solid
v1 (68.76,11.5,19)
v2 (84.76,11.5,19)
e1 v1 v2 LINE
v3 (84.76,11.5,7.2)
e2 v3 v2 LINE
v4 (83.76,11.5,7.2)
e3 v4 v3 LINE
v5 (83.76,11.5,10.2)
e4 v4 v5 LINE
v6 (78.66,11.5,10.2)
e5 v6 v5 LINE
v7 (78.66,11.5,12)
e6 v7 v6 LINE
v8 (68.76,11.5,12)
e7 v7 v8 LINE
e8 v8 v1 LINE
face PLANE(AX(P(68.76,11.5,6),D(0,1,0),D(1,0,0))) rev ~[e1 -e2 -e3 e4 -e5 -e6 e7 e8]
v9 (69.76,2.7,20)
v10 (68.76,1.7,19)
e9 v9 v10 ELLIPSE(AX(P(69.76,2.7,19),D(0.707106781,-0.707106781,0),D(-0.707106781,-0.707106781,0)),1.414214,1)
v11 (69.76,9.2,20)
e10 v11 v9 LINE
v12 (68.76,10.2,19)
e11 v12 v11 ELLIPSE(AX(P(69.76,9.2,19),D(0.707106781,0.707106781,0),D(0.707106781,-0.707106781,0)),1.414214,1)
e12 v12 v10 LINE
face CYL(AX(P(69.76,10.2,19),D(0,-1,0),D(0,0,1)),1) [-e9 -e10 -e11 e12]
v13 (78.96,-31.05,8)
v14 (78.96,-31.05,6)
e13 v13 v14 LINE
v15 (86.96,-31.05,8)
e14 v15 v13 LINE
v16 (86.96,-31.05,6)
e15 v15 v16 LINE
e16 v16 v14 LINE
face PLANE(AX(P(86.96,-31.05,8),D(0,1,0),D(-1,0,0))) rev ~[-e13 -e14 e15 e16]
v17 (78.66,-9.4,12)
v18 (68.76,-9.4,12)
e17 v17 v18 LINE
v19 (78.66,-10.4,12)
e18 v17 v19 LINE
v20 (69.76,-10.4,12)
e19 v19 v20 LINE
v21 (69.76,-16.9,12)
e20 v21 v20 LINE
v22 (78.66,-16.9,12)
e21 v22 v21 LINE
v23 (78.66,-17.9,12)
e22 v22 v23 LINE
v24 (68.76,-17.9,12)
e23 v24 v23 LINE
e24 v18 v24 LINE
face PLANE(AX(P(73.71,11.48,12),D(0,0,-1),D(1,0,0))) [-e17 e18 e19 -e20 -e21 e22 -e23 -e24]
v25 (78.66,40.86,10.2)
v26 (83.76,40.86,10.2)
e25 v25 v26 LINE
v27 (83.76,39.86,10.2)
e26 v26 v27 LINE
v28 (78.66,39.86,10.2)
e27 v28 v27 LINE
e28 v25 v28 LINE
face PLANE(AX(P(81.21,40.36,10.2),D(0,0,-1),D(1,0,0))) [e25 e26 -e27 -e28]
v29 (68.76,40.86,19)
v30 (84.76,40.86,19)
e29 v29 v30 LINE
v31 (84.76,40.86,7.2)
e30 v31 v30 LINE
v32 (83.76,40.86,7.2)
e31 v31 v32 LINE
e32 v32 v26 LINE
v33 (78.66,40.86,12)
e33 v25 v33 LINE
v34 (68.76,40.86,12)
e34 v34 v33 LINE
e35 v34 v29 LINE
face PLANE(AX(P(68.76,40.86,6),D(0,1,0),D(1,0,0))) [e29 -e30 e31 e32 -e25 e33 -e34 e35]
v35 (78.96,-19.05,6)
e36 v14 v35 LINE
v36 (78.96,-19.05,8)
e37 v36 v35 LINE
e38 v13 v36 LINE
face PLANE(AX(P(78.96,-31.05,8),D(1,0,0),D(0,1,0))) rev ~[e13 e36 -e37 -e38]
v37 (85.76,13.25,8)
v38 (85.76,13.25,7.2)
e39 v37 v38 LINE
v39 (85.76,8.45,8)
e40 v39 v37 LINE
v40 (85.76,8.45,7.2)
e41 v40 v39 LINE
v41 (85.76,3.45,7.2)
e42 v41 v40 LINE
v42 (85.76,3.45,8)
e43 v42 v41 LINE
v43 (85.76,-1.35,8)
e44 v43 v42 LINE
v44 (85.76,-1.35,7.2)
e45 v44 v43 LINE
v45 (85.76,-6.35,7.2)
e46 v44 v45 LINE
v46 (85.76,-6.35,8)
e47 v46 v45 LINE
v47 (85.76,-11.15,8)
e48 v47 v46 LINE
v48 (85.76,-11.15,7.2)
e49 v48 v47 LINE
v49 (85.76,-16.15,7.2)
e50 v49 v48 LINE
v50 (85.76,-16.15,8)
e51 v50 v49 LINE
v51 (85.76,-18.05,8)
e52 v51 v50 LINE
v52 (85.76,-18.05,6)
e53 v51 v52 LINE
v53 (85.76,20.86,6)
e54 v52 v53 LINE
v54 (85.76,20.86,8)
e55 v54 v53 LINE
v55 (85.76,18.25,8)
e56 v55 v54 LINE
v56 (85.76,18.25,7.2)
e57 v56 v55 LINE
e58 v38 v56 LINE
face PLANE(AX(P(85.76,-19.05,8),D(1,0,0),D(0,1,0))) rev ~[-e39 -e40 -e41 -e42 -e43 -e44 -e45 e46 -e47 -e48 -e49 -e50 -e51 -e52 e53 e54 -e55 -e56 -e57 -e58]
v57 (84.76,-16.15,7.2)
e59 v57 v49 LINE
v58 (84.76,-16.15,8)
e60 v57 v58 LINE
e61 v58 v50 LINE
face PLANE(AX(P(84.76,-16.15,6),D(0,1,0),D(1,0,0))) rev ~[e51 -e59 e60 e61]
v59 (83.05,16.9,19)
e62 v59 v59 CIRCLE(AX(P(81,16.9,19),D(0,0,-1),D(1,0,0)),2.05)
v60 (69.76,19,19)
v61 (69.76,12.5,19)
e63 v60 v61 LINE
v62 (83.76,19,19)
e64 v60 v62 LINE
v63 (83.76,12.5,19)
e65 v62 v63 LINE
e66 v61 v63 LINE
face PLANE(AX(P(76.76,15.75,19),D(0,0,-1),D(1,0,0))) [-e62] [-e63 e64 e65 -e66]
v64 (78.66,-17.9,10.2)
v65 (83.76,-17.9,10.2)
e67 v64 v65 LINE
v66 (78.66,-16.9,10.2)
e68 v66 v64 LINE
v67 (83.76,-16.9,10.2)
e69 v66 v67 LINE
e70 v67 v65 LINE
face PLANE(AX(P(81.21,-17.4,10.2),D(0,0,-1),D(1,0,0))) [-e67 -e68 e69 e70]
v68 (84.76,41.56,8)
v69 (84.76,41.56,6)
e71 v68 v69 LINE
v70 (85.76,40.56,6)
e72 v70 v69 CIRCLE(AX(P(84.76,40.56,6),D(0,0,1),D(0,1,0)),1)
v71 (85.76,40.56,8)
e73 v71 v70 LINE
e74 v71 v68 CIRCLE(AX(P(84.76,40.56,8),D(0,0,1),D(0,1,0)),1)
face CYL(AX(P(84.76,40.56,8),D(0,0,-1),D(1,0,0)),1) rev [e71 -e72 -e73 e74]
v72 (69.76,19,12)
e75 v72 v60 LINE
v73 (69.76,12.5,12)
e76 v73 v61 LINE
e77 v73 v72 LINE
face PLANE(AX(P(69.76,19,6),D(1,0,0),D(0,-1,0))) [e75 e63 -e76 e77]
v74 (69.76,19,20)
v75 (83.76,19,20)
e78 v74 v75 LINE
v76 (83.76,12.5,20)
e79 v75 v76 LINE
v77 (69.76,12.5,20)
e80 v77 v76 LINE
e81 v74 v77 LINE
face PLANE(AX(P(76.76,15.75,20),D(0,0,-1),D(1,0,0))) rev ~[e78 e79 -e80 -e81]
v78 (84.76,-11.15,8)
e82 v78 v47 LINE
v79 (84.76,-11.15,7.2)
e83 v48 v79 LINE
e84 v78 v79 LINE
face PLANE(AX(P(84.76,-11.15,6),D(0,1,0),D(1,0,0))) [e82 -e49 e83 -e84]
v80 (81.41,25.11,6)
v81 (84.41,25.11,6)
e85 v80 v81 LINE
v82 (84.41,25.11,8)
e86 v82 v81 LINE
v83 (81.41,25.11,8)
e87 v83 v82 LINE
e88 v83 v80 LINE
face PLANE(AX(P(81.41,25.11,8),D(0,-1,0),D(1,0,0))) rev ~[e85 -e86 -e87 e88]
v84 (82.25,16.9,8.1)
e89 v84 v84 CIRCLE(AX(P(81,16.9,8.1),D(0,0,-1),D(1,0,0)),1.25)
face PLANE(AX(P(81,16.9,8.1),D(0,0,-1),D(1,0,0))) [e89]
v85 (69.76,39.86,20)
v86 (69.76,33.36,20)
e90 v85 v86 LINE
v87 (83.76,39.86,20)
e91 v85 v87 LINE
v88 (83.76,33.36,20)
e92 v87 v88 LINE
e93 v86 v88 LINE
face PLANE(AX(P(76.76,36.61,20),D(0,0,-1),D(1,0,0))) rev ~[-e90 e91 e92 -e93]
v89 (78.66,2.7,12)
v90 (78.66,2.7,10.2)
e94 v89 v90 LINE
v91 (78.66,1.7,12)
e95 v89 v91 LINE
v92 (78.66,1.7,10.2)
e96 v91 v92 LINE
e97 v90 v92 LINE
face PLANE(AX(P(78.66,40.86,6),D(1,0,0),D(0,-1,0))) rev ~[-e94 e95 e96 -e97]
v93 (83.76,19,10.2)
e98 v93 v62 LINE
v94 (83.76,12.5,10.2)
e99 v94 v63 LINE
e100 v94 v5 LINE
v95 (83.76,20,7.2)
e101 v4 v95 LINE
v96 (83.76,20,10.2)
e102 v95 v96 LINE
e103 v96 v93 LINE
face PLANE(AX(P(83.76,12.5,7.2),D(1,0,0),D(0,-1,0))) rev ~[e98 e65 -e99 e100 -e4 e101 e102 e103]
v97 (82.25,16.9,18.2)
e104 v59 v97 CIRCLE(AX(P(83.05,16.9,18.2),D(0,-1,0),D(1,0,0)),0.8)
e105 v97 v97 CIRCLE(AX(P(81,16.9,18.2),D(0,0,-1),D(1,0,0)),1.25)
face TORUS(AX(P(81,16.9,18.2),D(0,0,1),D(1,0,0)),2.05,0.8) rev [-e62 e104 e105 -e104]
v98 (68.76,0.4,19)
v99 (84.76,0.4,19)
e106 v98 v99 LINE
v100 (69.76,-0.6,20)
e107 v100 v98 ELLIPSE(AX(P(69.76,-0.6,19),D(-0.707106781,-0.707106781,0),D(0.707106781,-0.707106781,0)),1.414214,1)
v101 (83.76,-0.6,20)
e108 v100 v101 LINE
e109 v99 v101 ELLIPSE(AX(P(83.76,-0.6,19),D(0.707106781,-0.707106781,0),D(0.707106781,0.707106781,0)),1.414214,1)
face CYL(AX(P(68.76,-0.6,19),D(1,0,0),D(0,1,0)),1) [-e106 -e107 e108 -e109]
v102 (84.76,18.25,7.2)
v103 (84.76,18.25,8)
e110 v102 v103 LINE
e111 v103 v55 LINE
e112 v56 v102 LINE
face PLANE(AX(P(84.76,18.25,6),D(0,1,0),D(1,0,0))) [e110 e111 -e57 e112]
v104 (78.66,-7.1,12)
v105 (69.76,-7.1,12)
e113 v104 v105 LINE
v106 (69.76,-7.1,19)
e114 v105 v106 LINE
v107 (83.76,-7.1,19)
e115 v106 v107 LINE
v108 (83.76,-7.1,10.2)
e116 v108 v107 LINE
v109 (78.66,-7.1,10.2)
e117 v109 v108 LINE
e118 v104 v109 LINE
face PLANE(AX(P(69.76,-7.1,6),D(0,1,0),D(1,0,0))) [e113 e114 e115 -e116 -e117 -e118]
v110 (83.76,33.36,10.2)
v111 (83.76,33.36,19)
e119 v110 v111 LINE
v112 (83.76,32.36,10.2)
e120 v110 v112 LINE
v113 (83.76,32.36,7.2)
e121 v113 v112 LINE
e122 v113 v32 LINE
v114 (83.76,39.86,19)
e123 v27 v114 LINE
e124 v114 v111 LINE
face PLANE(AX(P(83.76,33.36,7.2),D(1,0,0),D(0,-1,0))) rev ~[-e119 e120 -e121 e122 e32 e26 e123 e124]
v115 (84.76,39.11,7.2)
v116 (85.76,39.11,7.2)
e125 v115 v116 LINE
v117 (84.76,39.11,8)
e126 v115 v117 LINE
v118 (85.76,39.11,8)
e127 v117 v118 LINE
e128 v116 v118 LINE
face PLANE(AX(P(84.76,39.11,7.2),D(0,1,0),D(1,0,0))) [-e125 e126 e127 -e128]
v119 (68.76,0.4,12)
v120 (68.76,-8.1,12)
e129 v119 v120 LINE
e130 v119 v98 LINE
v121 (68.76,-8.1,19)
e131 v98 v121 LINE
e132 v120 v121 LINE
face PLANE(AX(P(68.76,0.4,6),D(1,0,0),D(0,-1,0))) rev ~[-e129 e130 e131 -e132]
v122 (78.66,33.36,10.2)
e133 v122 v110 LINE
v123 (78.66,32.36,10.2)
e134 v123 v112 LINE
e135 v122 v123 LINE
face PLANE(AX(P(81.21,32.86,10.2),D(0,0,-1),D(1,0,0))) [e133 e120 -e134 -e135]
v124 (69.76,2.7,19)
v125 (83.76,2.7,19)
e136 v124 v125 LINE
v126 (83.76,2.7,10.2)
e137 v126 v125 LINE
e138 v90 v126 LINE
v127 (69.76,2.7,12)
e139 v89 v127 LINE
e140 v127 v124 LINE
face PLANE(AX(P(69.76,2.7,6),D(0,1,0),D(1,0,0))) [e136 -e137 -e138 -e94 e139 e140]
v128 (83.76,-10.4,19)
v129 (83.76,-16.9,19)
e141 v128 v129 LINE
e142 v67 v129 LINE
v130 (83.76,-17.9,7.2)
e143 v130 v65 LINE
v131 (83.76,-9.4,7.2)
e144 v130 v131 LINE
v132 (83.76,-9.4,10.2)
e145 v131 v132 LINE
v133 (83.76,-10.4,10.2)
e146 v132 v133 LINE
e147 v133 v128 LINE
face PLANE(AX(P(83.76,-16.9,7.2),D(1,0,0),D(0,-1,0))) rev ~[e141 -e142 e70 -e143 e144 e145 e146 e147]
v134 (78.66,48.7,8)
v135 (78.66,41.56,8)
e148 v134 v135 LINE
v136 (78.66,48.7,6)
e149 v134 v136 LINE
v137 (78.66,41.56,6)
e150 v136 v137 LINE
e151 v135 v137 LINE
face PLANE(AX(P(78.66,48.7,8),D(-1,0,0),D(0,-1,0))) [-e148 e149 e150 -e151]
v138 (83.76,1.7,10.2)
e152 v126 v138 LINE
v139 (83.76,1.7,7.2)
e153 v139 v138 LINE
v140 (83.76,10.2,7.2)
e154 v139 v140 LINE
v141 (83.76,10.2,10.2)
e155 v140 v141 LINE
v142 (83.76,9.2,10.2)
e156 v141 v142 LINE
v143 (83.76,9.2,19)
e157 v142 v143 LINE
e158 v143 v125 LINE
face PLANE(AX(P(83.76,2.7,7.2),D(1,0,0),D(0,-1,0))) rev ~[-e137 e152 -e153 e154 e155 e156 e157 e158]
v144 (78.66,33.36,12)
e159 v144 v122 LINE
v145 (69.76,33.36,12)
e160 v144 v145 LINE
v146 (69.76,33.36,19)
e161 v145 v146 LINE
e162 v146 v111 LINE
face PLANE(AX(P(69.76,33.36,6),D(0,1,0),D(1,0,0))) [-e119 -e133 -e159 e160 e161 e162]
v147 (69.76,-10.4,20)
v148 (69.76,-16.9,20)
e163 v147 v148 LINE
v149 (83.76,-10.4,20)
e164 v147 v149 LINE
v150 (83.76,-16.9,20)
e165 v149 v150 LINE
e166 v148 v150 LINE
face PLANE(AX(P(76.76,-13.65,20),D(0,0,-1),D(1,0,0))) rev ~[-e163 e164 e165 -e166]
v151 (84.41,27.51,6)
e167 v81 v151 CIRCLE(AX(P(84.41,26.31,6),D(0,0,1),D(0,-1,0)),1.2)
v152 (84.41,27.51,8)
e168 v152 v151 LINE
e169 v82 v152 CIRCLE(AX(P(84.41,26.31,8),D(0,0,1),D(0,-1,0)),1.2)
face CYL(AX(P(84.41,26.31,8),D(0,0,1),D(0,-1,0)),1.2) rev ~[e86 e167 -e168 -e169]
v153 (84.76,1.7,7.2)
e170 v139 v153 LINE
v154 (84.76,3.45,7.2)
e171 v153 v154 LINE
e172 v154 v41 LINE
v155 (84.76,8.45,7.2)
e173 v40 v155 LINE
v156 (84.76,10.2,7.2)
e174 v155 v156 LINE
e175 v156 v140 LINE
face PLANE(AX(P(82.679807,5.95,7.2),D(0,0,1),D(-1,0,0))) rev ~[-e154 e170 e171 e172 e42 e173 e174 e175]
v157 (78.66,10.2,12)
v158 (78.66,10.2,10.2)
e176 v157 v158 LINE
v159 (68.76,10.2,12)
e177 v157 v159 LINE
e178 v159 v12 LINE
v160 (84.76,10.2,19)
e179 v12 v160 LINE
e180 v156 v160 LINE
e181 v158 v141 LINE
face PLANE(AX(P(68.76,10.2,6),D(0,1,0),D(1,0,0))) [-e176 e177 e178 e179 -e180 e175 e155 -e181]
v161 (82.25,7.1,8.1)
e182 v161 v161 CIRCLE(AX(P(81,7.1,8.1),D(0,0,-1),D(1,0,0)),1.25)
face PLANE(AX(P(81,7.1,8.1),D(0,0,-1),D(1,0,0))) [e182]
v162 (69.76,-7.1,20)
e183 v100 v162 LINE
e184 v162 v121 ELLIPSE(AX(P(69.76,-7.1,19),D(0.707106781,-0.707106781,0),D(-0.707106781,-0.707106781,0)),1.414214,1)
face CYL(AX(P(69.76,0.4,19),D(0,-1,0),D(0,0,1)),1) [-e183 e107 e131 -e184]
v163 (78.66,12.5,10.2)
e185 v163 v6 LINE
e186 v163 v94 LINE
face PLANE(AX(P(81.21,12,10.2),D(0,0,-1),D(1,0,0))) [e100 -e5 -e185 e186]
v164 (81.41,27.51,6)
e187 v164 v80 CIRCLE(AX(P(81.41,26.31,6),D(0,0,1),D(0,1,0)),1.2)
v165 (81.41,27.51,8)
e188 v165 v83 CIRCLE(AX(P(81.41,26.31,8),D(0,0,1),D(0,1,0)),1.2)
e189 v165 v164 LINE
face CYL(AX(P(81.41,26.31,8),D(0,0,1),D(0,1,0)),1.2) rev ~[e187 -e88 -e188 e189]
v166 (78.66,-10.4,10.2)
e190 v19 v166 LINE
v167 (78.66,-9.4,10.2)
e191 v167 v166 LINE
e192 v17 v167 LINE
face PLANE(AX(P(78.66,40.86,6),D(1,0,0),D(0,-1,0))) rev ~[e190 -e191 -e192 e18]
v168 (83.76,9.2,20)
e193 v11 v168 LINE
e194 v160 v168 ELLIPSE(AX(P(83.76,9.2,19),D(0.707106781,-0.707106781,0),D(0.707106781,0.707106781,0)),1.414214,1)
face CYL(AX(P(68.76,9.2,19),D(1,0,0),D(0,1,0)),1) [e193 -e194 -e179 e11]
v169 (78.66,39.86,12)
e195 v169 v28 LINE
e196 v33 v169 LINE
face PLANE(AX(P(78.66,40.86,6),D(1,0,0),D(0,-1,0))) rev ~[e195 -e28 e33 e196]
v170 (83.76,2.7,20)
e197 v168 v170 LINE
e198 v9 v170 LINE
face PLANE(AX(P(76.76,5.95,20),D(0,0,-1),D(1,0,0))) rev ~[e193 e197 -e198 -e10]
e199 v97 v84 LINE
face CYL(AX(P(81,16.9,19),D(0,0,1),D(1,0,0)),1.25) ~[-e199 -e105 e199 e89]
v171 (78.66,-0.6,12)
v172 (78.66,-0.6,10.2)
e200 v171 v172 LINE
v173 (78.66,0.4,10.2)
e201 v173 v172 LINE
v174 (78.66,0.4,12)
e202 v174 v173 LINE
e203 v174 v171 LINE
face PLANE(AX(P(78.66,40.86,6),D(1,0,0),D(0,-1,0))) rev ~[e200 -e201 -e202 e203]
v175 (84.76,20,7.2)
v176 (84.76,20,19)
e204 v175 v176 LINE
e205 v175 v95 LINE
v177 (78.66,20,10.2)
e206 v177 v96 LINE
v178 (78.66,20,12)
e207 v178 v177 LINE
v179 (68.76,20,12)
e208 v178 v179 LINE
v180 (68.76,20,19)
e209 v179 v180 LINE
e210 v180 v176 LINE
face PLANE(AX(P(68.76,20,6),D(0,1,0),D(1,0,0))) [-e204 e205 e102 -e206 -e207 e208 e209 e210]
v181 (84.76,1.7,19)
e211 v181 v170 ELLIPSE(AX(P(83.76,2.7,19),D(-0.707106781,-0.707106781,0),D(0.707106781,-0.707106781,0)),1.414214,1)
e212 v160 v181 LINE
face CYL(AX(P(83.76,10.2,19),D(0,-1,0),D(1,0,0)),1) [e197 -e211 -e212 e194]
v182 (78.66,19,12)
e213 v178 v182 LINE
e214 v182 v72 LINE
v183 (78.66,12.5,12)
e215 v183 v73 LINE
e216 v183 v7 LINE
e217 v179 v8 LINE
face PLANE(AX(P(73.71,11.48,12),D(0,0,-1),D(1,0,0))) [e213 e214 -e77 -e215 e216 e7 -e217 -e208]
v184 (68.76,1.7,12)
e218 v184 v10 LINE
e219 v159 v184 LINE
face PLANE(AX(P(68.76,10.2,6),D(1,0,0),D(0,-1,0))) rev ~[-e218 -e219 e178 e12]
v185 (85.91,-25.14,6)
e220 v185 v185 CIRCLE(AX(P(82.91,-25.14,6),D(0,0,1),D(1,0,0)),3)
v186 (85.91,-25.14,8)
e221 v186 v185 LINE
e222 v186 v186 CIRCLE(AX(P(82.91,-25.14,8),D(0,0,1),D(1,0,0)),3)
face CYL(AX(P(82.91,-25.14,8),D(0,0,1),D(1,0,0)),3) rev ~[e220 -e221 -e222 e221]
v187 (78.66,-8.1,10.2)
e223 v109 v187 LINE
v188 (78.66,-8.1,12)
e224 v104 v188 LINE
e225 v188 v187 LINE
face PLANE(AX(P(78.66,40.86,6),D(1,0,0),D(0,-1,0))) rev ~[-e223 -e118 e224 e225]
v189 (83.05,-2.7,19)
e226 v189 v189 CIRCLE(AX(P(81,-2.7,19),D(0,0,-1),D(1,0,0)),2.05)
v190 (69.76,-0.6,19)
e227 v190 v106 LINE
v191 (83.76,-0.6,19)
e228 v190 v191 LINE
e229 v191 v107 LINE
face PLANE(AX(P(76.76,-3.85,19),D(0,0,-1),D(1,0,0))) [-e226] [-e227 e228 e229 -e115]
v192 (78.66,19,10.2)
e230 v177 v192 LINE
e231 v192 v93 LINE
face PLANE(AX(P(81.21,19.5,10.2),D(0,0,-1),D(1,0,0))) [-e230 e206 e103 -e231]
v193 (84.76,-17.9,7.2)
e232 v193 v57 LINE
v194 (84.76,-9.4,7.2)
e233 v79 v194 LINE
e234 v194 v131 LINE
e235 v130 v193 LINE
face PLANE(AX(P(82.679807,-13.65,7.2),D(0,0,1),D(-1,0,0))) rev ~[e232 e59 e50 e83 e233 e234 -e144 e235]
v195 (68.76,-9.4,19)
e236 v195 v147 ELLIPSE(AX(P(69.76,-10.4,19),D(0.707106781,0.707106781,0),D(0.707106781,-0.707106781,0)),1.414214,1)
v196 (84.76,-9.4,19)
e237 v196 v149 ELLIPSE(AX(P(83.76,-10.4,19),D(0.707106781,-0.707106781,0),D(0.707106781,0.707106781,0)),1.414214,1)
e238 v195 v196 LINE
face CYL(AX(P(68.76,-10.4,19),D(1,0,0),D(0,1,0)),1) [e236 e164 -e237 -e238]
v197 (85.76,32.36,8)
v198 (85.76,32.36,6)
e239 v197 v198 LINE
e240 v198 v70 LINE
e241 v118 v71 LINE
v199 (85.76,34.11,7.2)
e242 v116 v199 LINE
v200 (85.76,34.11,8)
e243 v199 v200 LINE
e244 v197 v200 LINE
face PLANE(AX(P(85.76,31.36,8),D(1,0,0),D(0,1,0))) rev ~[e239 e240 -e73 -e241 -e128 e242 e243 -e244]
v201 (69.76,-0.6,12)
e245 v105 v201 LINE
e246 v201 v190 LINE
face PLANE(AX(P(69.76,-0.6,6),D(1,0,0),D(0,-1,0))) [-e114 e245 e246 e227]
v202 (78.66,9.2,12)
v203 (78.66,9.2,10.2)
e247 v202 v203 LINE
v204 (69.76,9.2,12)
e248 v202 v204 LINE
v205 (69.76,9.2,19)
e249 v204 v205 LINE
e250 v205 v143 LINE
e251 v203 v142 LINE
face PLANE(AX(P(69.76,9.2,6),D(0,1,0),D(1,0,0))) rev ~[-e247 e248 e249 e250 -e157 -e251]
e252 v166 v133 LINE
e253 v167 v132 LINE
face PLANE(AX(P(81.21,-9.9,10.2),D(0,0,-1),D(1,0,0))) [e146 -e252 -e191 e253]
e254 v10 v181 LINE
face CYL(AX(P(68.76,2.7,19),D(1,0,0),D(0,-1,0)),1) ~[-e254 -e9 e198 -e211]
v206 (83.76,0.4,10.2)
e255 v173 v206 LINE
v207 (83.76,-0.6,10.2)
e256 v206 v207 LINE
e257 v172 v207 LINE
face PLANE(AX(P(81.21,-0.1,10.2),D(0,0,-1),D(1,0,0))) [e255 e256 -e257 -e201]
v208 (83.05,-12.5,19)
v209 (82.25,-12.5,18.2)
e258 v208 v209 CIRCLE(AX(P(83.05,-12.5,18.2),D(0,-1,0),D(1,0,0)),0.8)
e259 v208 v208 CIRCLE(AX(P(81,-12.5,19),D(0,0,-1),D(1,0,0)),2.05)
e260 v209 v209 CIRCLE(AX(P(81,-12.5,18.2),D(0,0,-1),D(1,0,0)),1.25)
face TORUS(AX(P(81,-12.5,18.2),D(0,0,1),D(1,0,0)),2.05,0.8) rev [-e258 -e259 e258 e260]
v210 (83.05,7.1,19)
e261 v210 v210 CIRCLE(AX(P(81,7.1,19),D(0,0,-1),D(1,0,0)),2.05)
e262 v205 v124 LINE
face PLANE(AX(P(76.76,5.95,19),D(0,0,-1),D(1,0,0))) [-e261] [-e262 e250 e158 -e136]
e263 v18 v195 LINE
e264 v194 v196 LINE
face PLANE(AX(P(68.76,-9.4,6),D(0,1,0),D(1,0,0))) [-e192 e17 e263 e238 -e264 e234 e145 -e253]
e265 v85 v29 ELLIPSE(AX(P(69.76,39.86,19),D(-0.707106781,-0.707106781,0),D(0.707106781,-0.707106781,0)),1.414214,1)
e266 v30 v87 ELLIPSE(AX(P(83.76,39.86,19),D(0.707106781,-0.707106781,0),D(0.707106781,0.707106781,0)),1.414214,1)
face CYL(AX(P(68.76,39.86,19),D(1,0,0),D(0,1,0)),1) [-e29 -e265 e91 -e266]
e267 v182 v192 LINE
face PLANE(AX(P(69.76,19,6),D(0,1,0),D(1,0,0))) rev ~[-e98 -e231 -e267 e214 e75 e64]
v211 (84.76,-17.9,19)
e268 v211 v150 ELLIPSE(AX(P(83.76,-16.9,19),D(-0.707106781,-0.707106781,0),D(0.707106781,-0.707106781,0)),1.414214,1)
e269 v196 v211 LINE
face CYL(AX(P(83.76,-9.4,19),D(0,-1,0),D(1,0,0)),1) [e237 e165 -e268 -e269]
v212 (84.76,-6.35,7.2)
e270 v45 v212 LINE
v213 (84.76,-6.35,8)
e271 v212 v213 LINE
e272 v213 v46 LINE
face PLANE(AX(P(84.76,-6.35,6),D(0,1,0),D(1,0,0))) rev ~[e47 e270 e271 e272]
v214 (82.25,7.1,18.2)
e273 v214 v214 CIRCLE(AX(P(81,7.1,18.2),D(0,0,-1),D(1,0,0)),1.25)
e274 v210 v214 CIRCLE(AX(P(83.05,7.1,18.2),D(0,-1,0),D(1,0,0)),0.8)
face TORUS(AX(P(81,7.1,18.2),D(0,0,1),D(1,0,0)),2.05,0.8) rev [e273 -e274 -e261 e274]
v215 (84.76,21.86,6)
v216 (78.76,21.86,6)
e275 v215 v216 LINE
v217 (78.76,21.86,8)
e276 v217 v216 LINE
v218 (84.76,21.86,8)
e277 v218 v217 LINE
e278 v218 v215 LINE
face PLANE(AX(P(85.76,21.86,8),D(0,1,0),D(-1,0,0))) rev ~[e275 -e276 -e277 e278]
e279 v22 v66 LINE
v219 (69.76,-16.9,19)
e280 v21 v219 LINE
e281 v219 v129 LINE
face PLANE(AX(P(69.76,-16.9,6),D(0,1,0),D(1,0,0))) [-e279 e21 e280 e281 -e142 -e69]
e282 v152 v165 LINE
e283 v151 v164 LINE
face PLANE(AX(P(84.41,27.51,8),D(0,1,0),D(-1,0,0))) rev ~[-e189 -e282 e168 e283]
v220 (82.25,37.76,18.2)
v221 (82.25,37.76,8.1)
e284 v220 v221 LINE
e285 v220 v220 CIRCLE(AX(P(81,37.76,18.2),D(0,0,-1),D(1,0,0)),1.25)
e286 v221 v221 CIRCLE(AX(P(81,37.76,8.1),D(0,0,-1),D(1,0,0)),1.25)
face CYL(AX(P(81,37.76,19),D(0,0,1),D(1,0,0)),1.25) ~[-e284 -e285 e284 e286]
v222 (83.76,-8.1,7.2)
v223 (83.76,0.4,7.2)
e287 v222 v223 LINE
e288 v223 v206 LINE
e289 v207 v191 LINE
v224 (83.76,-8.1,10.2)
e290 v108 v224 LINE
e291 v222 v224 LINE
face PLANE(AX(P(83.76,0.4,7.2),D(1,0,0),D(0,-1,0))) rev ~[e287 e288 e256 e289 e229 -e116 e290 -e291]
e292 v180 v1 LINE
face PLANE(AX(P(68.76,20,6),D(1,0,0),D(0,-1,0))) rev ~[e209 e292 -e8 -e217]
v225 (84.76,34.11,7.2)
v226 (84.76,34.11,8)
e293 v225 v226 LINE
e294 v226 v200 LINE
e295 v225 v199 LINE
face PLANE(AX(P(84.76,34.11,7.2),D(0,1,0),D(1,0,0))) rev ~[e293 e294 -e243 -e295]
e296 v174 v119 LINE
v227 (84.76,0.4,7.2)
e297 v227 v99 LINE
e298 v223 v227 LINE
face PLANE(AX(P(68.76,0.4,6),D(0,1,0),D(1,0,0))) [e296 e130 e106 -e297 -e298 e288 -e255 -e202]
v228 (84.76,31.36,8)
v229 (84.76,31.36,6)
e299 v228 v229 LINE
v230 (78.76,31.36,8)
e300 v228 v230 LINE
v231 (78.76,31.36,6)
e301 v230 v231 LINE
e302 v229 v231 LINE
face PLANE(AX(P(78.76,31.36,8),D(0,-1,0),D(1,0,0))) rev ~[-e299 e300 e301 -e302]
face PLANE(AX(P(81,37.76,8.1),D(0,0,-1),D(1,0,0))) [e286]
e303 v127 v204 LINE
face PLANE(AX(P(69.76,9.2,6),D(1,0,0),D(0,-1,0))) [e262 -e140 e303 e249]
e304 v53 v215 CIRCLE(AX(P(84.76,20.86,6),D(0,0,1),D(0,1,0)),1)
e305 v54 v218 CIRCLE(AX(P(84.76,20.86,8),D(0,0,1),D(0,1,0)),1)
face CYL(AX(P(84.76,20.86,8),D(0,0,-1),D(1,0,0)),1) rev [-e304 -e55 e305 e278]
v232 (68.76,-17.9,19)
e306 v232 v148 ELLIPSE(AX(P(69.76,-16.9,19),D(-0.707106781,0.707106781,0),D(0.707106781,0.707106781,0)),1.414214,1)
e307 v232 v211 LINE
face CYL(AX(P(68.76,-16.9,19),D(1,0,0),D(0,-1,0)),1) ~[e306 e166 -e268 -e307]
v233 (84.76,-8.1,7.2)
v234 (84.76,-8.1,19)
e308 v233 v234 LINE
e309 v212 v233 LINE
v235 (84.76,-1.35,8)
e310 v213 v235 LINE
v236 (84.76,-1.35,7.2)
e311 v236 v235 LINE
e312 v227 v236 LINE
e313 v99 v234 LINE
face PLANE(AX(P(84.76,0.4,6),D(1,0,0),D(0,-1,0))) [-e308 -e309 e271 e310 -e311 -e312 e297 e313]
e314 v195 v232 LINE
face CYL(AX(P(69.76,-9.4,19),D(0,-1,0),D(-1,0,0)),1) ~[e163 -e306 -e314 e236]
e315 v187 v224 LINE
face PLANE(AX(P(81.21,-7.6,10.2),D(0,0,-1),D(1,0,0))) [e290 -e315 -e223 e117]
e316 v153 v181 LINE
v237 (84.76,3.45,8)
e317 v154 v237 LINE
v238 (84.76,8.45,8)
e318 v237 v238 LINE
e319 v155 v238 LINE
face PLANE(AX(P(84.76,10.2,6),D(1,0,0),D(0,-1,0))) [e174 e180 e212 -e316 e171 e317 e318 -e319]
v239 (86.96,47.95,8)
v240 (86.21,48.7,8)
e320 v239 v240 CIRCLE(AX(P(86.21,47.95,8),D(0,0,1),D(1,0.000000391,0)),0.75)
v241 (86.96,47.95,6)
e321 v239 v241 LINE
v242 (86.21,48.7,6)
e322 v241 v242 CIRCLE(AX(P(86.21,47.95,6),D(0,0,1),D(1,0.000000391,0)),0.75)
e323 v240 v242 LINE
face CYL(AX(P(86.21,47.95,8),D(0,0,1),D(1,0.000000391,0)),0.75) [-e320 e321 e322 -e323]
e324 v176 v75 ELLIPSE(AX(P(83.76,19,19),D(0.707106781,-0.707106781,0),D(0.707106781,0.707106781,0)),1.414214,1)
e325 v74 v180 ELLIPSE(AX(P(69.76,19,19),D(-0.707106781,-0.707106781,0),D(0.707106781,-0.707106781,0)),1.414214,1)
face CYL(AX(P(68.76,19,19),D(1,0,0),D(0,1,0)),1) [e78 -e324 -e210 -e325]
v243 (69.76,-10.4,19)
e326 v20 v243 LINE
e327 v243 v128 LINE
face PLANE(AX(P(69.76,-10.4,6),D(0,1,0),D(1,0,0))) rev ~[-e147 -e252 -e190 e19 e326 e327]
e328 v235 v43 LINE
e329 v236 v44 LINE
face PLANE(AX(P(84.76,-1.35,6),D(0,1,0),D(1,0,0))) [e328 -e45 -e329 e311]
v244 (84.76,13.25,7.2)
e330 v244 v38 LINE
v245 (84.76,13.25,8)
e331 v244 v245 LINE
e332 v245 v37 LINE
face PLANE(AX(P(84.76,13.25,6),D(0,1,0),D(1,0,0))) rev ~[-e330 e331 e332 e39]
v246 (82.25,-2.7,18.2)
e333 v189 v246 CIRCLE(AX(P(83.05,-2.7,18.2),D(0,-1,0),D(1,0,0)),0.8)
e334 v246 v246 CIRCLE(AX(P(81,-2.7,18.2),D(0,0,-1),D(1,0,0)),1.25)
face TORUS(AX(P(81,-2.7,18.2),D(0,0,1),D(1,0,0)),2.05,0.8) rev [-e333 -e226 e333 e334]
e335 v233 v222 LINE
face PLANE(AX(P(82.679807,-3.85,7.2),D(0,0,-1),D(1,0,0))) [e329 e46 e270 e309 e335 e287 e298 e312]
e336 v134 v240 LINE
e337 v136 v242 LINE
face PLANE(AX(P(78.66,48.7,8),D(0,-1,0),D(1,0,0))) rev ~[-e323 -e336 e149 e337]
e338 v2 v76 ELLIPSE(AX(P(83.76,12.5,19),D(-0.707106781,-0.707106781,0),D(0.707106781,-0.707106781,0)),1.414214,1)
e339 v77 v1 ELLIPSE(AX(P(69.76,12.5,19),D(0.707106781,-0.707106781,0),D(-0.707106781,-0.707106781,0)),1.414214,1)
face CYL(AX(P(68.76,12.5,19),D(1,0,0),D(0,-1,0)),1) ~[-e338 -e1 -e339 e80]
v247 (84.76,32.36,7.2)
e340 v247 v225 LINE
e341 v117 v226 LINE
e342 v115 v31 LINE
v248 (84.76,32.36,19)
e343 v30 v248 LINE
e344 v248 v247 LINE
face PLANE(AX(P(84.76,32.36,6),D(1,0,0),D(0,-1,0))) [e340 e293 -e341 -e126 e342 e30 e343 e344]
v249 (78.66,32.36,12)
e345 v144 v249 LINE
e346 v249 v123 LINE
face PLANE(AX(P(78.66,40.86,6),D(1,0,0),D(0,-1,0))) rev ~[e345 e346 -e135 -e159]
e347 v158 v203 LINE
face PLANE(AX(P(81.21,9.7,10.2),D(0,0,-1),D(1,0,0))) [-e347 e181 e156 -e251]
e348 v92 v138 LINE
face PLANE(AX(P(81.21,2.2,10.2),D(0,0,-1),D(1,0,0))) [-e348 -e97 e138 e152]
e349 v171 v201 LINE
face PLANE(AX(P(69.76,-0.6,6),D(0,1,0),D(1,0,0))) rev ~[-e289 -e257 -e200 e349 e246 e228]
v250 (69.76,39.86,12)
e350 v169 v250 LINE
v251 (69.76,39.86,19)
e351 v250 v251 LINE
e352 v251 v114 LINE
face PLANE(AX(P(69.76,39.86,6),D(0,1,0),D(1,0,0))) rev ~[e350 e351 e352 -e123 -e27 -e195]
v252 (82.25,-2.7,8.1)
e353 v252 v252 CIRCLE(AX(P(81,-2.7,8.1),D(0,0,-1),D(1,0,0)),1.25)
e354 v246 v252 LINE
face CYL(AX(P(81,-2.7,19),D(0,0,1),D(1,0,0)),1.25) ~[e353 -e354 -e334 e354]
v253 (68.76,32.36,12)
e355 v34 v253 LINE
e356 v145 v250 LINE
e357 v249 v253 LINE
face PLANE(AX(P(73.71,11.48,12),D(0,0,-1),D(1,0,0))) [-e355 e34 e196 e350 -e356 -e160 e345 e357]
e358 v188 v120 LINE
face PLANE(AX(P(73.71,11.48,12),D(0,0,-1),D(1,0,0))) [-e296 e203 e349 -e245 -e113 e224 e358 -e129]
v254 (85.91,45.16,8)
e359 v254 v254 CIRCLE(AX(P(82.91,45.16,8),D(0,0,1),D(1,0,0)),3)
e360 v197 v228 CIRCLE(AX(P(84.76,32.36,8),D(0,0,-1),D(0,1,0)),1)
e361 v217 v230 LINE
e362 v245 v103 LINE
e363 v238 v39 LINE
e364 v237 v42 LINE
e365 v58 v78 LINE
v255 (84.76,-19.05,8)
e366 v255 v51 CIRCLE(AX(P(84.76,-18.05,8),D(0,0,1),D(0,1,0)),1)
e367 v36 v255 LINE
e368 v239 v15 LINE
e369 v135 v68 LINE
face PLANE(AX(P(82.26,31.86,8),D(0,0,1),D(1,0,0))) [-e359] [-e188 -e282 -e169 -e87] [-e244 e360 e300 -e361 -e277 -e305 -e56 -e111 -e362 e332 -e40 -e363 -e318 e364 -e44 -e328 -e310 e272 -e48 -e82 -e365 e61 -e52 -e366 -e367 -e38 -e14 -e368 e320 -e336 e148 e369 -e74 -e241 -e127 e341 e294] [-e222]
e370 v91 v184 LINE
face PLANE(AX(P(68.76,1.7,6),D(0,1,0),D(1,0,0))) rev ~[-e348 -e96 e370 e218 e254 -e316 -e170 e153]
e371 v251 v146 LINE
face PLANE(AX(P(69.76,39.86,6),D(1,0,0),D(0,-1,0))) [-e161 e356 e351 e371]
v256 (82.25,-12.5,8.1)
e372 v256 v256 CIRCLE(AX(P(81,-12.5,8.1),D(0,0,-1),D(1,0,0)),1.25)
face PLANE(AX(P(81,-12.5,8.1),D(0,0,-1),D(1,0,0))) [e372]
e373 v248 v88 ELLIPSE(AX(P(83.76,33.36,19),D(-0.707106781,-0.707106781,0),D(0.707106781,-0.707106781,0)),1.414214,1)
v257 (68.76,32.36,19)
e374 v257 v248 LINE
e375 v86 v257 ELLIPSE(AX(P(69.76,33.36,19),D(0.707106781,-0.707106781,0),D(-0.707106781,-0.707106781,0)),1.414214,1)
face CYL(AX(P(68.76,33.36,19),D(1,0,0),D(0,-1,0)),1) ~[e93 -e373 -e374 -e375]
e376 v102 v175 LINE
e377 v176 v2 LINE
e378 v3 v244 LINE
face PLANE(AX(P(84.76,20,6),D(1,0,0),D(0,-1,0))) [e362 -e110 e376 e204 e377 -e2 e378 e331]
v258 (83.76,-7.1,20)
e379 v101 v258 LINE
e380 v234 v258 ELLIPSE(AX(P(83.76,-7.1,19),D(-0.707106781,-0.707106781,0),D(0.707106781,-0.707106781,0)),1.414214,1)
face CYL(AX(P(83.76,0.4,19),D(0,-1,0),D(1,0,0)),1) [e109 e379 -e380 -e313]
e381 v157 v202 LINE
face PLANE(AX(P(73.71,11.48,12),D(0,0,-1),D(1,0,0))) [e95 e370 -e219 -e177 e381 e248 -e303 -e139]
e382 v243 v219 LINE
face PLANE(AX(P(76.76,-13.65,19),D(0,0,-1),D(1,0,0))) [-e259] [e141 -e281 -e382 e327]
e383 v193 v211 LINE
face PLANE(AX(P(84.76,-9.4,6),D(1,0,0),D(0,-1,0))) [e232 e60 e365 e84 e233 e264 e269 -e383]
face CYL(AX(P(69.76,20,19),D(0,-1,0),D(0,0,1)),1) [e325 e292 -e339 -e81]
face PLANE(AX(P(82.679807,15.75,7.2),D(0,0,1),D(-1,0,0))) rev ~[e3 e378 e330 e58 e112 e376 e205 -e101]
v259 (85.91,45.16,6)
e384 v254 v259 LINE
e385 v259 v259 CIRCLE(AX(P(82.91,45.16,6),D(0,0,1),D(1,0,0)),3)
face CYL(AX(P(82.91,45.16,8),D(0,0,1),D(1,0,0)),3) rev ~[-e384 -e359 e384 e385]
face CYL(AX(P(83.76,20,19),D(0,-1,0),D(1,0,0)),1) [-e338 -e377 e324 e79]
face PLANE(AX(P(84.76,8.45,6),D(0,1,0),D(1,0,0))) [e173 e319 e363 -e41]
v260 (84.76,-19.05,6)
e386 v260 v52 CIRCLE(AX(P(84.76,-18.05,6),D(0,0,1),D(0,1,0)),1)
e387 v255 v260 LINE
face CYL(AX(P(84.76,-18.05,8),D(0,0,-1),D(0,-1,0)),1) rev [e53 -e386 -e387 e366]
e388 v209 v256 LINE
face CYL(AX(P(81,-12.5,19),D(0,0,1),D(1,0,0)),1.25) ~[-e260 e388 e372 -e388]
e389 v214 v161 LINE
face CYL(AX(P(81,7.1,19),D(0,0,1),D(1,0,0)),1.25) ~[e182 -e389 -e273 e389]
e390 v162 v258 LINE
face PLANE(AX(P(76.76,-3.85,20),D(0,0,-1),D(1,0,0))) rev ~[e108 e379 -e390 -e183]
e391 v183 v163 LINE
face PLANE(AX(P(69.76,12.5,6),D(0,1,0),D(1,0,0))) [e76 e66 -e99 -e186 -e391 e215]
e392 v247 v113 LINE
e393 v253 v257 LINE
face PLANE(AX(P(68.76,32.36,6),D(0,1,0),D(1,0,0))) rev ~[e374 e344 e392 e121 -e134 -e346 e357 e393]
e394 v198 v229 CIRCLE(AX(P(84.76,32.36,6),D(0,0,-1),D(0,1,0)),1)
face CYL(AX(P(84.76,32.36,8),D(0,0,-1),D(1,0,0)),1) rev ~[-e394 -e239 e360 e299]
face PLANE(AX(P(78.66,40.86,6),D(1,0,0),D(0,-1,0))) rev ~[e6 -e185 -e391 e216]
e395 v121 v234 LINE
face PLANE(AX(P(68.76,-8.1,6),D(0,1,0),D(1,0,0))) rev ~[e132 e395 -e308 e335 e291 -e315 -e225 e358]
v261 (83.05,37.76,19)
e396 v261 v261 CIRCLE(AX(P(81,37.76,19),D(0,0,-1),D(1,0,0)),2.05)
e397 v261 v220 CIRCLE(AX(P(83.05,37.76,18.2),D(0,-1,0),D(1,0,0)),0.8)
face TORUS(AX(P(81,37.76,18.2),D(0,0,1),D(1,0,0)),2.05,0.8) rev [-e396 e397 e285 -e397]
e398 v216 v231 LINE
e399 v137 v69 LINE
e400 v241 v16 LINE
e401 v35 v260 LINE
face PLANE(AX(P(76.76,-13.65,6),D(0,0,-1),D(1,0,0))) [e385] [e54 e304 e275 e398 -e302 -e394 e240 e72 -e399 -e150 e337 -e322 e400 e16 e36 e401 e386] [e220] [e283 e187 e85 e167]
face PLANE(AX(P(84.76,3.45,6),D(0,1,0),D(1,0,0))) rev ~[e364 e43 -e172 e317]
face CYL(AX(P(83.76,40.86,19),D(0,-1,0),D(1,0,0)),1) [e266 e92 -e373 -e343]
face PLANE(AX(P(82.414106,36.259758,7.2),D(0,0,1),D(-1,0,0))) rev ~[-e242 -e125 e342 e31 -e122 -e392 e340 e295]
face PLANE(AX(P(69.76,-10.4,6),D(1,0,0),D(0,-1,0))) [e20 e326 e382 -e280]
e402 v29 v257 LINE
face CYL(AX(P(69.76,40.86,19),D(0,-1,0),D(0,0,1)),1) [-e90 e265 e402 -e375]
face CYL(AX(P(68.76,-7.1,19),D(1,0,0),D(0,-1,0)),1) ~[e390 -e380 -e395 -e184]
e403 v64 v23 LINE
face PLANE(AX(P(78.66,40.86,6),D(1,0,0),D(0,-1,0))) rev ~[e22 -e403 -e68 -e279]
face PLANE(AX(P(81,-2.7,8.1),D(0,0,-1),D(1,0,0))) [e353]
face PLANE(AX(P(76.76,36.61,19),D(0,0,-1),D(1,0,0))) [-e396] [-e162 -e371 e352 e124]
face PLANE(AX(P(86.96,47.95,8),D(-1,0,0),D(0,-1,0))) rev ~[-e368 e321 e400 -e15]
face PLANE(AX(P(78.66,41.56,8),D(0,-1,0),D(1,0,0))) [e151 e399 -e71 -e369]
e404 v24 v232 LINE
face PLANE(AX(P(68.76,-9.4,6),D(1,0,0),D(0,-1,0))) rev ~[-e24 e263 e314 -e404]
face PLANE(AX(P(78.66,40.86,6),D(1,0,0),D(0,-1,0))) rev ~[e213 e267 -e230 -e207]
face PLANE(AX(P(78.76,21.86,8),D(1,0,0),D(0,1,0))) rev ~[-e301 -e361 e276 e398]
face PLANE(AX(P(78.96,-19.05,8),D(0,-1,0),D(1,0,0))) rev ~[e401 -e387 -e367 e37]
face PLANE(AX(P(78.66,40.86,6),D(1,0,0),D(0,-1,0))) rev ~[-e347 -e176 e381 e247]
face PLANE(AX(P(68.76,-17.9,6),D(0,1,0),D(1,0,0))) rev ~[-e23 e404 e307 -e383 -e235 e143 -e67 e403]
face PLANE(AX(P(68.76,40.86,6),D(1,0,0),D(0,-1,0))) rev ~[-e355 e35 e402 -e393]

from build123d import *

# Parameters (mm, degrees)
SKETCH023_R     = 3
PAD012_DEPTH    = 2
SKETCH024_W     = 5
SKETCH024_H     = 1
SKETCH024_W_2   = 1
SKETCH024_H_2   = 5
PAD013_DEPTH    = 1
SKETCH025_W     = 16
SKETCH025_H     = 8.5
PAD014_DEPTH    = 14
SKETCH026_W     = 14
SKETCH026_H     = 6.5
POCKET009_DEPTH = 13
SKETCH027_W     = 9.9
SKETCH027_H     = 58.76
POCKET010_DEPTH = 6
SKETCH043_R     = 1.25
PAD027_DEPTH    = 10.9
FILLET004_R     = 0.8
FILLET005_R     = 1
SKETCH127_W     = 5
SKETCH127_H     = 1
SKETCH127_W_2   = 1
SKETCH127_H_2   = 5
PAD068_DEPTH    = 1
POCKET058_DEPTH = 1.2
FILLET012_R     = 1
SKETCH137_W     = 1
SKETCH137_H     = 5
PAD074_DEPTH    = 0.8
SKETCH138_W     = 5
SKETCH138_H     = 1
POCKET062_DEPTH = 5
SKETCH139_W     = 5.1
SKETCH139_H     = 1
POCKET063_DEPTH = 3


with BuildPart() as part:
    # Sketch023 → Pad012 (new body)
    with BuildSketch(Plane.XY):
        with BuildLine():
            Line((-4.34, 41.56), (2.76, 41.56))
            Line((2.76, 31.36), (2.76, 41.56))
            Line((-4.24, 31.36), (2.76, 31.36))
            Line((-4.24, 21.86), (-4.24, 31.36))
            Line((2.76, 21.86), (-4.24, 21.86))
            Line((2.76, -19.05), (2.76, 21.86))
            Line((-4.04, -19.05), (2.76, -19.05))
            Line((-4.04, -31.05), (-4.04, -19.05))
            Line((3.96, -31.05), (-4.04, -31.05))
            Line((3.96, 47.95), (3.96, -31.05))
            ThreePointArc((3.96, 47.95), (3.74033, 48.48033), (3.21, 48.7))
            Line((-4.34, 48.7), (3.21, 48.7))
            Line((-4.34, 48.7), (-4.34, 41.56))
        make_face()
        with Locations((-0.09, 45.16)):
            Circle(SKETCH023_R, mode=Mode.SUBTRACT)
        with Locations((-0.09, -25.14)):
            Circle(SKETCH023_R, mode=Mode.SUBTRACT)
        with BuildLine():
            Line((1.41, 27.51), (-1.59, 27.51))
            ThreePointArc((-1.59, 27.51), (-2.79, 26.31), (-1.59, 25.11))
            Line((-1.59, 25.11), (1.41, 25.11))
            ThreePointArc((1.41, 25.11), (2.61, 26.31), (1.41, 27.51))
        make_face(mode=Mode.SUBTRACT)
    extrude(amount=-PAD012_DEPTH)

    # Sketch024 (on Face21 of Pad012) → Pad013 (join)
    with BuildSketch(Plane(origin=(0, 0, -2), x_dir=(1, 0, 0), z_dir=(0, 0, -1))):
        with Locations((-0.74, -31.86)):
            Rectangle(SKETCH024_W, SKETCH024_H)
        with Locations((2.26, 13.65)):
            Rectangle(SKETCH024_W_2, SKETCH024_H_2)
        with Locations((2.26, 3.85)):
            Rectangle(SKETCH024_W_2, SKETCH024_H_2)
        with Locations((2.26, -5.95)):
            Rectangle(SKETCH024_W_2, SKETCH024_H_2)
        with Locations((2.26, -15.75)):
            Rectangle(SKETCH024_W_2, SKETCH024_H_2)
    extrude(amount=-PAD013_DEPTH)

    # Sketch025 (on Face41 of Pad013) → Pad014 (join)
    with BuildSketch(Plane(origin=(0, 0, -2), x_dir=(1, 0, 0), z_dir=(0, 0, -1))):
        with Locations((-6.24, 13.65)):
            Rectangle(SKETCH025_W, SKETCH025_H)
        with Locations((-6.24, 3.85)):
            Rectangle(SKETCH025_W, SKETCH025_H)
        with Locations((-6.24, -5.95)):
            Rectangle(SKETCH025_W, SKETCH025_H)
        with Locations((-6.24, -15.75)):
            Rectangle(SKETCH025_W, SKETCH025_H)
        with Locations((-6.24, -36.61)):
            Rectangle(SKETCH025_W, SKETCH025_H)
    extrude(amount=-PAD014_DEPTH)

    # Sketch026 (on Face59 of Pad014) → Pocket009 (cut)
    with BuildSketch(Plane(origin=(0, 0, -2), x_dir=(1, 0, 0), z_dir=(0, 0, -1))):
        with Locations((-6.24, 13.65)):
            Rectangle(SKETCH026_W, SKETCH026_H)
        with Locations((-6.24, 3.85)):
            Rectangle(SKETCH026_W, SKETCH026_H)
        with Locations((-6.24, -5.95)):
            Rectangle(SKETCH026_W, SKETCH026_H)
        with Locations((-6.24, -15.75)):
            Rectangle(SKETCH026_W, SKETCH026_H)
        with Locations((-6.24, -36.61)):
            Rectangle(SKETCH026_W, SKETCH026_H)
    extrude(amount=-POCKET009_DEPTH, mode=Mode.SUBTRACT)

    # Sketch027 (on Face4 of Pocket009) → Pocket010 (cut)
    with BuildSketch(Plane(origin=(0, 0, -2), x_dir=(1, 0, 0), z_dir=(0, 0, -1))):
        with Locations((-9.29, -11.48)):
            Rectangle(SKETCH027_W, SKETCH027_H)
    extrude(amount=-POCKET010_DEPTH, mode=Mode.SUBTRACT)

    # Sketch043 (on Face99 of Pocket010) → Pad027 (join)
    with BuildSketch(Plane(origin=(0, 0, 11), x_dir=(1, 0, 0), z_dir=(0, 0, -1))):
        with Locations((-2, 12.5)):
            Circle(SKETCH043_R)
        with Locations((-2, 2.7)):
            Circle(SKETCH043_R)
        with Locations((-2, -7.1)):
            Circle(SKETCH043_R)
        with Locations((-2, -16.9)):
            Circle(SKETCH043_R)
        with Locations((-2, -37.76)):
            Circle(SKETCH043_R)
    extrude(amount=PAD027_DEPTH)

    # Fillet004
    fillet004_edges = [part.edges().sort_by_distance(p)[0] for p in [
        (-3.25, 37.76, 11),
        (-3.25, 16.9, 11),
        (-3.25, 7.1, 11),
        (-3.25, -2.7, 11),
        (-3.25, -12.5, 11),
    ]]
    fillet(fillet004_edges, radius=FILLET004_R)

    # Fillet005
    fillet005_edges = [part.edges().sort_by_distance(p)[0] for p in [
        (-14.24, 36.61, 12),
        (-6.24, 32.36, 12),
        (-6.24, 40.86, 12),
        (1.76, 36.61, 12),
        (-14.24, 15.75, 12),
        (-6.24, 20, 12),
        (1.76, 15.75, 12),
        (-6.24, 11.5, 12),
        (-6.24, 10.2, 12),
        (-14.24, 5.95, 12),
        (-6.24, 1.7, 12),
        (1.76, 5.95, 12),
        (-14.24, -3.85, 12),
        (-6.24, 0.4, 12),
        (-6.24, -8.1, 12),
        (1.76, -3.85, 12),
        (-6.24, -9.4, 12),
        (1.76, -13.65, 12),
        (-6.24, -17.9, 12),
        (-14.24, -13.65, 12),
    ]]
    fillet(fillet005_edges, radius=FILLET005_R)

    # Sketch127 (on Face81 of Fillet005) → Pad068 (join)
    with BuildSketch(Plane.XY.offset(-1)):
        with Locations((-0.74, 31.86)):
            Rectangle(SKETCH127_W, SKETCH127_H)
        with Locations((2.26, 15.75)):
            Rectangle(SKETCH127_W_2, SKETCH127_H_2)
        with Locations((2.26, 5.95)):
            Rectangle(SKETCH127_W_2, SKETCH127_H_2)
        with Locations((2.26, -3.85)):
            Rectangle(SKETCH127_W_2, SKETCH127_H_2)
        with Locations((2.26, -13.65)):
            Rectangle(SKETCH127_W_2, SKETCH127_H_2)
    extrude(amount=PAD068_DEPTH)

    # Sketch128 (on Face8 of Pad068) → Pocket058 (cut)
    with BuildSketch(Plane(origin=(0, 0, -2), x_dir=(1, 0, 0), z_dir=(0, 0, -1))):
        Polygon((-4.34, 17.9), (1.76, 17.9), (1.76, 16.15), (2.76, 16.15), (2.76, 11.15), (1.76, 11.15), (1.76, 9.4), (-4.34, 9.4), (-4.34, 10.4), (0.76, 10.4), (0.76, 16.9), (-4.34, 16.9), align=None)
        Polygon((2.76, 6.35), (1.76, 6.35), (1.76, 8.1), (-4.34, 8.1), (-4.34, 7.1), (0.76, 7.1), (0.76, 0.6), (-4.34, 0.6), (-4.34, -0.4), (1.76, -0.4), (1.76, 1.35), (2.76, 1.35), align=None)
        Polygon((-4.34, -1.7), (1.76, -1.7), (1.76, -3.45), (2.76, -3.45), (2.76, -8.45), (1.76, -8.45), (1.76, -10.2), (-4.34, -10.2), (-4.34, -9.2), (0.76, -9.2), (0.76, -2.7), (-4.34, -2.7), align=None)
        Polygon((-4.34, -11.5), (1.76, -11.5), (1.76, -13.25), (2.76, -13.25), (2.76, -18.25), (1.76, -18.25), (1.76, -20), (-4.34, -20), (-4.34, -19), (0.76, -19), (0.76, -12.5), (-4.34, -12.5), align=None)
        Polygon((1.76, -31.36), (1.76, -40.86), (-4.34, -40.86), (-4.34, -39.86), (0.76, -39.86), (0.76, -33.36), (-4.34, -33.36), (-4.34, -32.36), (-3.24, -32.36), (-3.24, -31.36), align=None)
    extrude(amount=-POCKET058_DEPTH, mode=Mode.SUBTRACT)

    # Fillet012
    fillet012_edges = [part.edges().sort_by_distance(p)[0] for p in [
        (2.76, 41.56, -1),
        (2.76, 31.36, -1),
        (2.76, 21.86, -1),
        (2.76, -19.05, -1),
    ]]
    fillet(fillet012_edges, radius=FILLET012_R)

    # Sketch137 (on Face54 of Fillet012) → Pad074 (join)
    with BuildSketch(Plane(origin=(0, 0, -0.8), x_dir=(1, 0, 0), z_dir=(0, 0, -1))):
        with Locations((2.26, -36.61)):
            Rectangle(SKETCH137_W, SKETCH137_H)
    extrude(amount=-PAD074_DEPTH)

    # Sketch138 (on Face141 of Pad074) → Pocket062 (cut)
    with BuildSketch(Plane(origin=(0, 0, -0.8), x_dir=(1, 0, 0), z_dir=(0, 0, -1))):
        with Locations((-0.74, -31.86)):
            Rectangle(SKETCH138_W, SKETCH138_H)
    extrude(amount=-POCKET062_DEPTH, mode=Mode.SUBTRACT)

    # Sketch139 (on Face72 of Pocket062) → Pocket063 (cut)
    with BuildSketch(Plane(origin=(0, 0, -0.8), x_dir=(1, 0, 0), z_dir=(0, 0, -1))):
        with Locations((-1.79, 17.4)):
            Rectangle(SKETCH139_W, SKETCH139_H)
        with Locations((-1.79, 9.9)):
            Rectangle(SKETCH139_W, SKETCH139_H)
        with Locations((-1.79, 7.6)):
            Rectangle(SKETCH139_W, SKETCH139_H)
        with Locations((-1.79, 0.1)):
            Rectangle(SKETCH139_W, SKETCH139_H)
        with Locations((-1.79, -2.2)):
            Rectangle(SKETCH139_W, SKETCH139_H)
        with Locations((-1.79, -9.7)):
            Rectangle(SKETCH139_W, SKETCH139_H)
        with Locations((-1.79, -12)):
            Rectangle(SKETCH139_W, SKETCH139_H)
        with Locations((-1.79, -19.5)):
            Rectangle(SKETCH139_W, SKETCH139_H)
        with Locations((-1.79, -32.86)):
            Rectangle(SKETCH139_W, SKETCH139_H)
        with Locations((-1.79, -40.36)):
            Rectangle(SKETCH139_W, SKETCH139_H)
    extrude(amount=-POCKET063_DEPTH, mode=Mode.SUBTRACT)


with BuildPart() as part_1:
    # Body005 placement: moved
    add(part.part.moved(Location((83, 0, 8))))


solid = part_1.part
